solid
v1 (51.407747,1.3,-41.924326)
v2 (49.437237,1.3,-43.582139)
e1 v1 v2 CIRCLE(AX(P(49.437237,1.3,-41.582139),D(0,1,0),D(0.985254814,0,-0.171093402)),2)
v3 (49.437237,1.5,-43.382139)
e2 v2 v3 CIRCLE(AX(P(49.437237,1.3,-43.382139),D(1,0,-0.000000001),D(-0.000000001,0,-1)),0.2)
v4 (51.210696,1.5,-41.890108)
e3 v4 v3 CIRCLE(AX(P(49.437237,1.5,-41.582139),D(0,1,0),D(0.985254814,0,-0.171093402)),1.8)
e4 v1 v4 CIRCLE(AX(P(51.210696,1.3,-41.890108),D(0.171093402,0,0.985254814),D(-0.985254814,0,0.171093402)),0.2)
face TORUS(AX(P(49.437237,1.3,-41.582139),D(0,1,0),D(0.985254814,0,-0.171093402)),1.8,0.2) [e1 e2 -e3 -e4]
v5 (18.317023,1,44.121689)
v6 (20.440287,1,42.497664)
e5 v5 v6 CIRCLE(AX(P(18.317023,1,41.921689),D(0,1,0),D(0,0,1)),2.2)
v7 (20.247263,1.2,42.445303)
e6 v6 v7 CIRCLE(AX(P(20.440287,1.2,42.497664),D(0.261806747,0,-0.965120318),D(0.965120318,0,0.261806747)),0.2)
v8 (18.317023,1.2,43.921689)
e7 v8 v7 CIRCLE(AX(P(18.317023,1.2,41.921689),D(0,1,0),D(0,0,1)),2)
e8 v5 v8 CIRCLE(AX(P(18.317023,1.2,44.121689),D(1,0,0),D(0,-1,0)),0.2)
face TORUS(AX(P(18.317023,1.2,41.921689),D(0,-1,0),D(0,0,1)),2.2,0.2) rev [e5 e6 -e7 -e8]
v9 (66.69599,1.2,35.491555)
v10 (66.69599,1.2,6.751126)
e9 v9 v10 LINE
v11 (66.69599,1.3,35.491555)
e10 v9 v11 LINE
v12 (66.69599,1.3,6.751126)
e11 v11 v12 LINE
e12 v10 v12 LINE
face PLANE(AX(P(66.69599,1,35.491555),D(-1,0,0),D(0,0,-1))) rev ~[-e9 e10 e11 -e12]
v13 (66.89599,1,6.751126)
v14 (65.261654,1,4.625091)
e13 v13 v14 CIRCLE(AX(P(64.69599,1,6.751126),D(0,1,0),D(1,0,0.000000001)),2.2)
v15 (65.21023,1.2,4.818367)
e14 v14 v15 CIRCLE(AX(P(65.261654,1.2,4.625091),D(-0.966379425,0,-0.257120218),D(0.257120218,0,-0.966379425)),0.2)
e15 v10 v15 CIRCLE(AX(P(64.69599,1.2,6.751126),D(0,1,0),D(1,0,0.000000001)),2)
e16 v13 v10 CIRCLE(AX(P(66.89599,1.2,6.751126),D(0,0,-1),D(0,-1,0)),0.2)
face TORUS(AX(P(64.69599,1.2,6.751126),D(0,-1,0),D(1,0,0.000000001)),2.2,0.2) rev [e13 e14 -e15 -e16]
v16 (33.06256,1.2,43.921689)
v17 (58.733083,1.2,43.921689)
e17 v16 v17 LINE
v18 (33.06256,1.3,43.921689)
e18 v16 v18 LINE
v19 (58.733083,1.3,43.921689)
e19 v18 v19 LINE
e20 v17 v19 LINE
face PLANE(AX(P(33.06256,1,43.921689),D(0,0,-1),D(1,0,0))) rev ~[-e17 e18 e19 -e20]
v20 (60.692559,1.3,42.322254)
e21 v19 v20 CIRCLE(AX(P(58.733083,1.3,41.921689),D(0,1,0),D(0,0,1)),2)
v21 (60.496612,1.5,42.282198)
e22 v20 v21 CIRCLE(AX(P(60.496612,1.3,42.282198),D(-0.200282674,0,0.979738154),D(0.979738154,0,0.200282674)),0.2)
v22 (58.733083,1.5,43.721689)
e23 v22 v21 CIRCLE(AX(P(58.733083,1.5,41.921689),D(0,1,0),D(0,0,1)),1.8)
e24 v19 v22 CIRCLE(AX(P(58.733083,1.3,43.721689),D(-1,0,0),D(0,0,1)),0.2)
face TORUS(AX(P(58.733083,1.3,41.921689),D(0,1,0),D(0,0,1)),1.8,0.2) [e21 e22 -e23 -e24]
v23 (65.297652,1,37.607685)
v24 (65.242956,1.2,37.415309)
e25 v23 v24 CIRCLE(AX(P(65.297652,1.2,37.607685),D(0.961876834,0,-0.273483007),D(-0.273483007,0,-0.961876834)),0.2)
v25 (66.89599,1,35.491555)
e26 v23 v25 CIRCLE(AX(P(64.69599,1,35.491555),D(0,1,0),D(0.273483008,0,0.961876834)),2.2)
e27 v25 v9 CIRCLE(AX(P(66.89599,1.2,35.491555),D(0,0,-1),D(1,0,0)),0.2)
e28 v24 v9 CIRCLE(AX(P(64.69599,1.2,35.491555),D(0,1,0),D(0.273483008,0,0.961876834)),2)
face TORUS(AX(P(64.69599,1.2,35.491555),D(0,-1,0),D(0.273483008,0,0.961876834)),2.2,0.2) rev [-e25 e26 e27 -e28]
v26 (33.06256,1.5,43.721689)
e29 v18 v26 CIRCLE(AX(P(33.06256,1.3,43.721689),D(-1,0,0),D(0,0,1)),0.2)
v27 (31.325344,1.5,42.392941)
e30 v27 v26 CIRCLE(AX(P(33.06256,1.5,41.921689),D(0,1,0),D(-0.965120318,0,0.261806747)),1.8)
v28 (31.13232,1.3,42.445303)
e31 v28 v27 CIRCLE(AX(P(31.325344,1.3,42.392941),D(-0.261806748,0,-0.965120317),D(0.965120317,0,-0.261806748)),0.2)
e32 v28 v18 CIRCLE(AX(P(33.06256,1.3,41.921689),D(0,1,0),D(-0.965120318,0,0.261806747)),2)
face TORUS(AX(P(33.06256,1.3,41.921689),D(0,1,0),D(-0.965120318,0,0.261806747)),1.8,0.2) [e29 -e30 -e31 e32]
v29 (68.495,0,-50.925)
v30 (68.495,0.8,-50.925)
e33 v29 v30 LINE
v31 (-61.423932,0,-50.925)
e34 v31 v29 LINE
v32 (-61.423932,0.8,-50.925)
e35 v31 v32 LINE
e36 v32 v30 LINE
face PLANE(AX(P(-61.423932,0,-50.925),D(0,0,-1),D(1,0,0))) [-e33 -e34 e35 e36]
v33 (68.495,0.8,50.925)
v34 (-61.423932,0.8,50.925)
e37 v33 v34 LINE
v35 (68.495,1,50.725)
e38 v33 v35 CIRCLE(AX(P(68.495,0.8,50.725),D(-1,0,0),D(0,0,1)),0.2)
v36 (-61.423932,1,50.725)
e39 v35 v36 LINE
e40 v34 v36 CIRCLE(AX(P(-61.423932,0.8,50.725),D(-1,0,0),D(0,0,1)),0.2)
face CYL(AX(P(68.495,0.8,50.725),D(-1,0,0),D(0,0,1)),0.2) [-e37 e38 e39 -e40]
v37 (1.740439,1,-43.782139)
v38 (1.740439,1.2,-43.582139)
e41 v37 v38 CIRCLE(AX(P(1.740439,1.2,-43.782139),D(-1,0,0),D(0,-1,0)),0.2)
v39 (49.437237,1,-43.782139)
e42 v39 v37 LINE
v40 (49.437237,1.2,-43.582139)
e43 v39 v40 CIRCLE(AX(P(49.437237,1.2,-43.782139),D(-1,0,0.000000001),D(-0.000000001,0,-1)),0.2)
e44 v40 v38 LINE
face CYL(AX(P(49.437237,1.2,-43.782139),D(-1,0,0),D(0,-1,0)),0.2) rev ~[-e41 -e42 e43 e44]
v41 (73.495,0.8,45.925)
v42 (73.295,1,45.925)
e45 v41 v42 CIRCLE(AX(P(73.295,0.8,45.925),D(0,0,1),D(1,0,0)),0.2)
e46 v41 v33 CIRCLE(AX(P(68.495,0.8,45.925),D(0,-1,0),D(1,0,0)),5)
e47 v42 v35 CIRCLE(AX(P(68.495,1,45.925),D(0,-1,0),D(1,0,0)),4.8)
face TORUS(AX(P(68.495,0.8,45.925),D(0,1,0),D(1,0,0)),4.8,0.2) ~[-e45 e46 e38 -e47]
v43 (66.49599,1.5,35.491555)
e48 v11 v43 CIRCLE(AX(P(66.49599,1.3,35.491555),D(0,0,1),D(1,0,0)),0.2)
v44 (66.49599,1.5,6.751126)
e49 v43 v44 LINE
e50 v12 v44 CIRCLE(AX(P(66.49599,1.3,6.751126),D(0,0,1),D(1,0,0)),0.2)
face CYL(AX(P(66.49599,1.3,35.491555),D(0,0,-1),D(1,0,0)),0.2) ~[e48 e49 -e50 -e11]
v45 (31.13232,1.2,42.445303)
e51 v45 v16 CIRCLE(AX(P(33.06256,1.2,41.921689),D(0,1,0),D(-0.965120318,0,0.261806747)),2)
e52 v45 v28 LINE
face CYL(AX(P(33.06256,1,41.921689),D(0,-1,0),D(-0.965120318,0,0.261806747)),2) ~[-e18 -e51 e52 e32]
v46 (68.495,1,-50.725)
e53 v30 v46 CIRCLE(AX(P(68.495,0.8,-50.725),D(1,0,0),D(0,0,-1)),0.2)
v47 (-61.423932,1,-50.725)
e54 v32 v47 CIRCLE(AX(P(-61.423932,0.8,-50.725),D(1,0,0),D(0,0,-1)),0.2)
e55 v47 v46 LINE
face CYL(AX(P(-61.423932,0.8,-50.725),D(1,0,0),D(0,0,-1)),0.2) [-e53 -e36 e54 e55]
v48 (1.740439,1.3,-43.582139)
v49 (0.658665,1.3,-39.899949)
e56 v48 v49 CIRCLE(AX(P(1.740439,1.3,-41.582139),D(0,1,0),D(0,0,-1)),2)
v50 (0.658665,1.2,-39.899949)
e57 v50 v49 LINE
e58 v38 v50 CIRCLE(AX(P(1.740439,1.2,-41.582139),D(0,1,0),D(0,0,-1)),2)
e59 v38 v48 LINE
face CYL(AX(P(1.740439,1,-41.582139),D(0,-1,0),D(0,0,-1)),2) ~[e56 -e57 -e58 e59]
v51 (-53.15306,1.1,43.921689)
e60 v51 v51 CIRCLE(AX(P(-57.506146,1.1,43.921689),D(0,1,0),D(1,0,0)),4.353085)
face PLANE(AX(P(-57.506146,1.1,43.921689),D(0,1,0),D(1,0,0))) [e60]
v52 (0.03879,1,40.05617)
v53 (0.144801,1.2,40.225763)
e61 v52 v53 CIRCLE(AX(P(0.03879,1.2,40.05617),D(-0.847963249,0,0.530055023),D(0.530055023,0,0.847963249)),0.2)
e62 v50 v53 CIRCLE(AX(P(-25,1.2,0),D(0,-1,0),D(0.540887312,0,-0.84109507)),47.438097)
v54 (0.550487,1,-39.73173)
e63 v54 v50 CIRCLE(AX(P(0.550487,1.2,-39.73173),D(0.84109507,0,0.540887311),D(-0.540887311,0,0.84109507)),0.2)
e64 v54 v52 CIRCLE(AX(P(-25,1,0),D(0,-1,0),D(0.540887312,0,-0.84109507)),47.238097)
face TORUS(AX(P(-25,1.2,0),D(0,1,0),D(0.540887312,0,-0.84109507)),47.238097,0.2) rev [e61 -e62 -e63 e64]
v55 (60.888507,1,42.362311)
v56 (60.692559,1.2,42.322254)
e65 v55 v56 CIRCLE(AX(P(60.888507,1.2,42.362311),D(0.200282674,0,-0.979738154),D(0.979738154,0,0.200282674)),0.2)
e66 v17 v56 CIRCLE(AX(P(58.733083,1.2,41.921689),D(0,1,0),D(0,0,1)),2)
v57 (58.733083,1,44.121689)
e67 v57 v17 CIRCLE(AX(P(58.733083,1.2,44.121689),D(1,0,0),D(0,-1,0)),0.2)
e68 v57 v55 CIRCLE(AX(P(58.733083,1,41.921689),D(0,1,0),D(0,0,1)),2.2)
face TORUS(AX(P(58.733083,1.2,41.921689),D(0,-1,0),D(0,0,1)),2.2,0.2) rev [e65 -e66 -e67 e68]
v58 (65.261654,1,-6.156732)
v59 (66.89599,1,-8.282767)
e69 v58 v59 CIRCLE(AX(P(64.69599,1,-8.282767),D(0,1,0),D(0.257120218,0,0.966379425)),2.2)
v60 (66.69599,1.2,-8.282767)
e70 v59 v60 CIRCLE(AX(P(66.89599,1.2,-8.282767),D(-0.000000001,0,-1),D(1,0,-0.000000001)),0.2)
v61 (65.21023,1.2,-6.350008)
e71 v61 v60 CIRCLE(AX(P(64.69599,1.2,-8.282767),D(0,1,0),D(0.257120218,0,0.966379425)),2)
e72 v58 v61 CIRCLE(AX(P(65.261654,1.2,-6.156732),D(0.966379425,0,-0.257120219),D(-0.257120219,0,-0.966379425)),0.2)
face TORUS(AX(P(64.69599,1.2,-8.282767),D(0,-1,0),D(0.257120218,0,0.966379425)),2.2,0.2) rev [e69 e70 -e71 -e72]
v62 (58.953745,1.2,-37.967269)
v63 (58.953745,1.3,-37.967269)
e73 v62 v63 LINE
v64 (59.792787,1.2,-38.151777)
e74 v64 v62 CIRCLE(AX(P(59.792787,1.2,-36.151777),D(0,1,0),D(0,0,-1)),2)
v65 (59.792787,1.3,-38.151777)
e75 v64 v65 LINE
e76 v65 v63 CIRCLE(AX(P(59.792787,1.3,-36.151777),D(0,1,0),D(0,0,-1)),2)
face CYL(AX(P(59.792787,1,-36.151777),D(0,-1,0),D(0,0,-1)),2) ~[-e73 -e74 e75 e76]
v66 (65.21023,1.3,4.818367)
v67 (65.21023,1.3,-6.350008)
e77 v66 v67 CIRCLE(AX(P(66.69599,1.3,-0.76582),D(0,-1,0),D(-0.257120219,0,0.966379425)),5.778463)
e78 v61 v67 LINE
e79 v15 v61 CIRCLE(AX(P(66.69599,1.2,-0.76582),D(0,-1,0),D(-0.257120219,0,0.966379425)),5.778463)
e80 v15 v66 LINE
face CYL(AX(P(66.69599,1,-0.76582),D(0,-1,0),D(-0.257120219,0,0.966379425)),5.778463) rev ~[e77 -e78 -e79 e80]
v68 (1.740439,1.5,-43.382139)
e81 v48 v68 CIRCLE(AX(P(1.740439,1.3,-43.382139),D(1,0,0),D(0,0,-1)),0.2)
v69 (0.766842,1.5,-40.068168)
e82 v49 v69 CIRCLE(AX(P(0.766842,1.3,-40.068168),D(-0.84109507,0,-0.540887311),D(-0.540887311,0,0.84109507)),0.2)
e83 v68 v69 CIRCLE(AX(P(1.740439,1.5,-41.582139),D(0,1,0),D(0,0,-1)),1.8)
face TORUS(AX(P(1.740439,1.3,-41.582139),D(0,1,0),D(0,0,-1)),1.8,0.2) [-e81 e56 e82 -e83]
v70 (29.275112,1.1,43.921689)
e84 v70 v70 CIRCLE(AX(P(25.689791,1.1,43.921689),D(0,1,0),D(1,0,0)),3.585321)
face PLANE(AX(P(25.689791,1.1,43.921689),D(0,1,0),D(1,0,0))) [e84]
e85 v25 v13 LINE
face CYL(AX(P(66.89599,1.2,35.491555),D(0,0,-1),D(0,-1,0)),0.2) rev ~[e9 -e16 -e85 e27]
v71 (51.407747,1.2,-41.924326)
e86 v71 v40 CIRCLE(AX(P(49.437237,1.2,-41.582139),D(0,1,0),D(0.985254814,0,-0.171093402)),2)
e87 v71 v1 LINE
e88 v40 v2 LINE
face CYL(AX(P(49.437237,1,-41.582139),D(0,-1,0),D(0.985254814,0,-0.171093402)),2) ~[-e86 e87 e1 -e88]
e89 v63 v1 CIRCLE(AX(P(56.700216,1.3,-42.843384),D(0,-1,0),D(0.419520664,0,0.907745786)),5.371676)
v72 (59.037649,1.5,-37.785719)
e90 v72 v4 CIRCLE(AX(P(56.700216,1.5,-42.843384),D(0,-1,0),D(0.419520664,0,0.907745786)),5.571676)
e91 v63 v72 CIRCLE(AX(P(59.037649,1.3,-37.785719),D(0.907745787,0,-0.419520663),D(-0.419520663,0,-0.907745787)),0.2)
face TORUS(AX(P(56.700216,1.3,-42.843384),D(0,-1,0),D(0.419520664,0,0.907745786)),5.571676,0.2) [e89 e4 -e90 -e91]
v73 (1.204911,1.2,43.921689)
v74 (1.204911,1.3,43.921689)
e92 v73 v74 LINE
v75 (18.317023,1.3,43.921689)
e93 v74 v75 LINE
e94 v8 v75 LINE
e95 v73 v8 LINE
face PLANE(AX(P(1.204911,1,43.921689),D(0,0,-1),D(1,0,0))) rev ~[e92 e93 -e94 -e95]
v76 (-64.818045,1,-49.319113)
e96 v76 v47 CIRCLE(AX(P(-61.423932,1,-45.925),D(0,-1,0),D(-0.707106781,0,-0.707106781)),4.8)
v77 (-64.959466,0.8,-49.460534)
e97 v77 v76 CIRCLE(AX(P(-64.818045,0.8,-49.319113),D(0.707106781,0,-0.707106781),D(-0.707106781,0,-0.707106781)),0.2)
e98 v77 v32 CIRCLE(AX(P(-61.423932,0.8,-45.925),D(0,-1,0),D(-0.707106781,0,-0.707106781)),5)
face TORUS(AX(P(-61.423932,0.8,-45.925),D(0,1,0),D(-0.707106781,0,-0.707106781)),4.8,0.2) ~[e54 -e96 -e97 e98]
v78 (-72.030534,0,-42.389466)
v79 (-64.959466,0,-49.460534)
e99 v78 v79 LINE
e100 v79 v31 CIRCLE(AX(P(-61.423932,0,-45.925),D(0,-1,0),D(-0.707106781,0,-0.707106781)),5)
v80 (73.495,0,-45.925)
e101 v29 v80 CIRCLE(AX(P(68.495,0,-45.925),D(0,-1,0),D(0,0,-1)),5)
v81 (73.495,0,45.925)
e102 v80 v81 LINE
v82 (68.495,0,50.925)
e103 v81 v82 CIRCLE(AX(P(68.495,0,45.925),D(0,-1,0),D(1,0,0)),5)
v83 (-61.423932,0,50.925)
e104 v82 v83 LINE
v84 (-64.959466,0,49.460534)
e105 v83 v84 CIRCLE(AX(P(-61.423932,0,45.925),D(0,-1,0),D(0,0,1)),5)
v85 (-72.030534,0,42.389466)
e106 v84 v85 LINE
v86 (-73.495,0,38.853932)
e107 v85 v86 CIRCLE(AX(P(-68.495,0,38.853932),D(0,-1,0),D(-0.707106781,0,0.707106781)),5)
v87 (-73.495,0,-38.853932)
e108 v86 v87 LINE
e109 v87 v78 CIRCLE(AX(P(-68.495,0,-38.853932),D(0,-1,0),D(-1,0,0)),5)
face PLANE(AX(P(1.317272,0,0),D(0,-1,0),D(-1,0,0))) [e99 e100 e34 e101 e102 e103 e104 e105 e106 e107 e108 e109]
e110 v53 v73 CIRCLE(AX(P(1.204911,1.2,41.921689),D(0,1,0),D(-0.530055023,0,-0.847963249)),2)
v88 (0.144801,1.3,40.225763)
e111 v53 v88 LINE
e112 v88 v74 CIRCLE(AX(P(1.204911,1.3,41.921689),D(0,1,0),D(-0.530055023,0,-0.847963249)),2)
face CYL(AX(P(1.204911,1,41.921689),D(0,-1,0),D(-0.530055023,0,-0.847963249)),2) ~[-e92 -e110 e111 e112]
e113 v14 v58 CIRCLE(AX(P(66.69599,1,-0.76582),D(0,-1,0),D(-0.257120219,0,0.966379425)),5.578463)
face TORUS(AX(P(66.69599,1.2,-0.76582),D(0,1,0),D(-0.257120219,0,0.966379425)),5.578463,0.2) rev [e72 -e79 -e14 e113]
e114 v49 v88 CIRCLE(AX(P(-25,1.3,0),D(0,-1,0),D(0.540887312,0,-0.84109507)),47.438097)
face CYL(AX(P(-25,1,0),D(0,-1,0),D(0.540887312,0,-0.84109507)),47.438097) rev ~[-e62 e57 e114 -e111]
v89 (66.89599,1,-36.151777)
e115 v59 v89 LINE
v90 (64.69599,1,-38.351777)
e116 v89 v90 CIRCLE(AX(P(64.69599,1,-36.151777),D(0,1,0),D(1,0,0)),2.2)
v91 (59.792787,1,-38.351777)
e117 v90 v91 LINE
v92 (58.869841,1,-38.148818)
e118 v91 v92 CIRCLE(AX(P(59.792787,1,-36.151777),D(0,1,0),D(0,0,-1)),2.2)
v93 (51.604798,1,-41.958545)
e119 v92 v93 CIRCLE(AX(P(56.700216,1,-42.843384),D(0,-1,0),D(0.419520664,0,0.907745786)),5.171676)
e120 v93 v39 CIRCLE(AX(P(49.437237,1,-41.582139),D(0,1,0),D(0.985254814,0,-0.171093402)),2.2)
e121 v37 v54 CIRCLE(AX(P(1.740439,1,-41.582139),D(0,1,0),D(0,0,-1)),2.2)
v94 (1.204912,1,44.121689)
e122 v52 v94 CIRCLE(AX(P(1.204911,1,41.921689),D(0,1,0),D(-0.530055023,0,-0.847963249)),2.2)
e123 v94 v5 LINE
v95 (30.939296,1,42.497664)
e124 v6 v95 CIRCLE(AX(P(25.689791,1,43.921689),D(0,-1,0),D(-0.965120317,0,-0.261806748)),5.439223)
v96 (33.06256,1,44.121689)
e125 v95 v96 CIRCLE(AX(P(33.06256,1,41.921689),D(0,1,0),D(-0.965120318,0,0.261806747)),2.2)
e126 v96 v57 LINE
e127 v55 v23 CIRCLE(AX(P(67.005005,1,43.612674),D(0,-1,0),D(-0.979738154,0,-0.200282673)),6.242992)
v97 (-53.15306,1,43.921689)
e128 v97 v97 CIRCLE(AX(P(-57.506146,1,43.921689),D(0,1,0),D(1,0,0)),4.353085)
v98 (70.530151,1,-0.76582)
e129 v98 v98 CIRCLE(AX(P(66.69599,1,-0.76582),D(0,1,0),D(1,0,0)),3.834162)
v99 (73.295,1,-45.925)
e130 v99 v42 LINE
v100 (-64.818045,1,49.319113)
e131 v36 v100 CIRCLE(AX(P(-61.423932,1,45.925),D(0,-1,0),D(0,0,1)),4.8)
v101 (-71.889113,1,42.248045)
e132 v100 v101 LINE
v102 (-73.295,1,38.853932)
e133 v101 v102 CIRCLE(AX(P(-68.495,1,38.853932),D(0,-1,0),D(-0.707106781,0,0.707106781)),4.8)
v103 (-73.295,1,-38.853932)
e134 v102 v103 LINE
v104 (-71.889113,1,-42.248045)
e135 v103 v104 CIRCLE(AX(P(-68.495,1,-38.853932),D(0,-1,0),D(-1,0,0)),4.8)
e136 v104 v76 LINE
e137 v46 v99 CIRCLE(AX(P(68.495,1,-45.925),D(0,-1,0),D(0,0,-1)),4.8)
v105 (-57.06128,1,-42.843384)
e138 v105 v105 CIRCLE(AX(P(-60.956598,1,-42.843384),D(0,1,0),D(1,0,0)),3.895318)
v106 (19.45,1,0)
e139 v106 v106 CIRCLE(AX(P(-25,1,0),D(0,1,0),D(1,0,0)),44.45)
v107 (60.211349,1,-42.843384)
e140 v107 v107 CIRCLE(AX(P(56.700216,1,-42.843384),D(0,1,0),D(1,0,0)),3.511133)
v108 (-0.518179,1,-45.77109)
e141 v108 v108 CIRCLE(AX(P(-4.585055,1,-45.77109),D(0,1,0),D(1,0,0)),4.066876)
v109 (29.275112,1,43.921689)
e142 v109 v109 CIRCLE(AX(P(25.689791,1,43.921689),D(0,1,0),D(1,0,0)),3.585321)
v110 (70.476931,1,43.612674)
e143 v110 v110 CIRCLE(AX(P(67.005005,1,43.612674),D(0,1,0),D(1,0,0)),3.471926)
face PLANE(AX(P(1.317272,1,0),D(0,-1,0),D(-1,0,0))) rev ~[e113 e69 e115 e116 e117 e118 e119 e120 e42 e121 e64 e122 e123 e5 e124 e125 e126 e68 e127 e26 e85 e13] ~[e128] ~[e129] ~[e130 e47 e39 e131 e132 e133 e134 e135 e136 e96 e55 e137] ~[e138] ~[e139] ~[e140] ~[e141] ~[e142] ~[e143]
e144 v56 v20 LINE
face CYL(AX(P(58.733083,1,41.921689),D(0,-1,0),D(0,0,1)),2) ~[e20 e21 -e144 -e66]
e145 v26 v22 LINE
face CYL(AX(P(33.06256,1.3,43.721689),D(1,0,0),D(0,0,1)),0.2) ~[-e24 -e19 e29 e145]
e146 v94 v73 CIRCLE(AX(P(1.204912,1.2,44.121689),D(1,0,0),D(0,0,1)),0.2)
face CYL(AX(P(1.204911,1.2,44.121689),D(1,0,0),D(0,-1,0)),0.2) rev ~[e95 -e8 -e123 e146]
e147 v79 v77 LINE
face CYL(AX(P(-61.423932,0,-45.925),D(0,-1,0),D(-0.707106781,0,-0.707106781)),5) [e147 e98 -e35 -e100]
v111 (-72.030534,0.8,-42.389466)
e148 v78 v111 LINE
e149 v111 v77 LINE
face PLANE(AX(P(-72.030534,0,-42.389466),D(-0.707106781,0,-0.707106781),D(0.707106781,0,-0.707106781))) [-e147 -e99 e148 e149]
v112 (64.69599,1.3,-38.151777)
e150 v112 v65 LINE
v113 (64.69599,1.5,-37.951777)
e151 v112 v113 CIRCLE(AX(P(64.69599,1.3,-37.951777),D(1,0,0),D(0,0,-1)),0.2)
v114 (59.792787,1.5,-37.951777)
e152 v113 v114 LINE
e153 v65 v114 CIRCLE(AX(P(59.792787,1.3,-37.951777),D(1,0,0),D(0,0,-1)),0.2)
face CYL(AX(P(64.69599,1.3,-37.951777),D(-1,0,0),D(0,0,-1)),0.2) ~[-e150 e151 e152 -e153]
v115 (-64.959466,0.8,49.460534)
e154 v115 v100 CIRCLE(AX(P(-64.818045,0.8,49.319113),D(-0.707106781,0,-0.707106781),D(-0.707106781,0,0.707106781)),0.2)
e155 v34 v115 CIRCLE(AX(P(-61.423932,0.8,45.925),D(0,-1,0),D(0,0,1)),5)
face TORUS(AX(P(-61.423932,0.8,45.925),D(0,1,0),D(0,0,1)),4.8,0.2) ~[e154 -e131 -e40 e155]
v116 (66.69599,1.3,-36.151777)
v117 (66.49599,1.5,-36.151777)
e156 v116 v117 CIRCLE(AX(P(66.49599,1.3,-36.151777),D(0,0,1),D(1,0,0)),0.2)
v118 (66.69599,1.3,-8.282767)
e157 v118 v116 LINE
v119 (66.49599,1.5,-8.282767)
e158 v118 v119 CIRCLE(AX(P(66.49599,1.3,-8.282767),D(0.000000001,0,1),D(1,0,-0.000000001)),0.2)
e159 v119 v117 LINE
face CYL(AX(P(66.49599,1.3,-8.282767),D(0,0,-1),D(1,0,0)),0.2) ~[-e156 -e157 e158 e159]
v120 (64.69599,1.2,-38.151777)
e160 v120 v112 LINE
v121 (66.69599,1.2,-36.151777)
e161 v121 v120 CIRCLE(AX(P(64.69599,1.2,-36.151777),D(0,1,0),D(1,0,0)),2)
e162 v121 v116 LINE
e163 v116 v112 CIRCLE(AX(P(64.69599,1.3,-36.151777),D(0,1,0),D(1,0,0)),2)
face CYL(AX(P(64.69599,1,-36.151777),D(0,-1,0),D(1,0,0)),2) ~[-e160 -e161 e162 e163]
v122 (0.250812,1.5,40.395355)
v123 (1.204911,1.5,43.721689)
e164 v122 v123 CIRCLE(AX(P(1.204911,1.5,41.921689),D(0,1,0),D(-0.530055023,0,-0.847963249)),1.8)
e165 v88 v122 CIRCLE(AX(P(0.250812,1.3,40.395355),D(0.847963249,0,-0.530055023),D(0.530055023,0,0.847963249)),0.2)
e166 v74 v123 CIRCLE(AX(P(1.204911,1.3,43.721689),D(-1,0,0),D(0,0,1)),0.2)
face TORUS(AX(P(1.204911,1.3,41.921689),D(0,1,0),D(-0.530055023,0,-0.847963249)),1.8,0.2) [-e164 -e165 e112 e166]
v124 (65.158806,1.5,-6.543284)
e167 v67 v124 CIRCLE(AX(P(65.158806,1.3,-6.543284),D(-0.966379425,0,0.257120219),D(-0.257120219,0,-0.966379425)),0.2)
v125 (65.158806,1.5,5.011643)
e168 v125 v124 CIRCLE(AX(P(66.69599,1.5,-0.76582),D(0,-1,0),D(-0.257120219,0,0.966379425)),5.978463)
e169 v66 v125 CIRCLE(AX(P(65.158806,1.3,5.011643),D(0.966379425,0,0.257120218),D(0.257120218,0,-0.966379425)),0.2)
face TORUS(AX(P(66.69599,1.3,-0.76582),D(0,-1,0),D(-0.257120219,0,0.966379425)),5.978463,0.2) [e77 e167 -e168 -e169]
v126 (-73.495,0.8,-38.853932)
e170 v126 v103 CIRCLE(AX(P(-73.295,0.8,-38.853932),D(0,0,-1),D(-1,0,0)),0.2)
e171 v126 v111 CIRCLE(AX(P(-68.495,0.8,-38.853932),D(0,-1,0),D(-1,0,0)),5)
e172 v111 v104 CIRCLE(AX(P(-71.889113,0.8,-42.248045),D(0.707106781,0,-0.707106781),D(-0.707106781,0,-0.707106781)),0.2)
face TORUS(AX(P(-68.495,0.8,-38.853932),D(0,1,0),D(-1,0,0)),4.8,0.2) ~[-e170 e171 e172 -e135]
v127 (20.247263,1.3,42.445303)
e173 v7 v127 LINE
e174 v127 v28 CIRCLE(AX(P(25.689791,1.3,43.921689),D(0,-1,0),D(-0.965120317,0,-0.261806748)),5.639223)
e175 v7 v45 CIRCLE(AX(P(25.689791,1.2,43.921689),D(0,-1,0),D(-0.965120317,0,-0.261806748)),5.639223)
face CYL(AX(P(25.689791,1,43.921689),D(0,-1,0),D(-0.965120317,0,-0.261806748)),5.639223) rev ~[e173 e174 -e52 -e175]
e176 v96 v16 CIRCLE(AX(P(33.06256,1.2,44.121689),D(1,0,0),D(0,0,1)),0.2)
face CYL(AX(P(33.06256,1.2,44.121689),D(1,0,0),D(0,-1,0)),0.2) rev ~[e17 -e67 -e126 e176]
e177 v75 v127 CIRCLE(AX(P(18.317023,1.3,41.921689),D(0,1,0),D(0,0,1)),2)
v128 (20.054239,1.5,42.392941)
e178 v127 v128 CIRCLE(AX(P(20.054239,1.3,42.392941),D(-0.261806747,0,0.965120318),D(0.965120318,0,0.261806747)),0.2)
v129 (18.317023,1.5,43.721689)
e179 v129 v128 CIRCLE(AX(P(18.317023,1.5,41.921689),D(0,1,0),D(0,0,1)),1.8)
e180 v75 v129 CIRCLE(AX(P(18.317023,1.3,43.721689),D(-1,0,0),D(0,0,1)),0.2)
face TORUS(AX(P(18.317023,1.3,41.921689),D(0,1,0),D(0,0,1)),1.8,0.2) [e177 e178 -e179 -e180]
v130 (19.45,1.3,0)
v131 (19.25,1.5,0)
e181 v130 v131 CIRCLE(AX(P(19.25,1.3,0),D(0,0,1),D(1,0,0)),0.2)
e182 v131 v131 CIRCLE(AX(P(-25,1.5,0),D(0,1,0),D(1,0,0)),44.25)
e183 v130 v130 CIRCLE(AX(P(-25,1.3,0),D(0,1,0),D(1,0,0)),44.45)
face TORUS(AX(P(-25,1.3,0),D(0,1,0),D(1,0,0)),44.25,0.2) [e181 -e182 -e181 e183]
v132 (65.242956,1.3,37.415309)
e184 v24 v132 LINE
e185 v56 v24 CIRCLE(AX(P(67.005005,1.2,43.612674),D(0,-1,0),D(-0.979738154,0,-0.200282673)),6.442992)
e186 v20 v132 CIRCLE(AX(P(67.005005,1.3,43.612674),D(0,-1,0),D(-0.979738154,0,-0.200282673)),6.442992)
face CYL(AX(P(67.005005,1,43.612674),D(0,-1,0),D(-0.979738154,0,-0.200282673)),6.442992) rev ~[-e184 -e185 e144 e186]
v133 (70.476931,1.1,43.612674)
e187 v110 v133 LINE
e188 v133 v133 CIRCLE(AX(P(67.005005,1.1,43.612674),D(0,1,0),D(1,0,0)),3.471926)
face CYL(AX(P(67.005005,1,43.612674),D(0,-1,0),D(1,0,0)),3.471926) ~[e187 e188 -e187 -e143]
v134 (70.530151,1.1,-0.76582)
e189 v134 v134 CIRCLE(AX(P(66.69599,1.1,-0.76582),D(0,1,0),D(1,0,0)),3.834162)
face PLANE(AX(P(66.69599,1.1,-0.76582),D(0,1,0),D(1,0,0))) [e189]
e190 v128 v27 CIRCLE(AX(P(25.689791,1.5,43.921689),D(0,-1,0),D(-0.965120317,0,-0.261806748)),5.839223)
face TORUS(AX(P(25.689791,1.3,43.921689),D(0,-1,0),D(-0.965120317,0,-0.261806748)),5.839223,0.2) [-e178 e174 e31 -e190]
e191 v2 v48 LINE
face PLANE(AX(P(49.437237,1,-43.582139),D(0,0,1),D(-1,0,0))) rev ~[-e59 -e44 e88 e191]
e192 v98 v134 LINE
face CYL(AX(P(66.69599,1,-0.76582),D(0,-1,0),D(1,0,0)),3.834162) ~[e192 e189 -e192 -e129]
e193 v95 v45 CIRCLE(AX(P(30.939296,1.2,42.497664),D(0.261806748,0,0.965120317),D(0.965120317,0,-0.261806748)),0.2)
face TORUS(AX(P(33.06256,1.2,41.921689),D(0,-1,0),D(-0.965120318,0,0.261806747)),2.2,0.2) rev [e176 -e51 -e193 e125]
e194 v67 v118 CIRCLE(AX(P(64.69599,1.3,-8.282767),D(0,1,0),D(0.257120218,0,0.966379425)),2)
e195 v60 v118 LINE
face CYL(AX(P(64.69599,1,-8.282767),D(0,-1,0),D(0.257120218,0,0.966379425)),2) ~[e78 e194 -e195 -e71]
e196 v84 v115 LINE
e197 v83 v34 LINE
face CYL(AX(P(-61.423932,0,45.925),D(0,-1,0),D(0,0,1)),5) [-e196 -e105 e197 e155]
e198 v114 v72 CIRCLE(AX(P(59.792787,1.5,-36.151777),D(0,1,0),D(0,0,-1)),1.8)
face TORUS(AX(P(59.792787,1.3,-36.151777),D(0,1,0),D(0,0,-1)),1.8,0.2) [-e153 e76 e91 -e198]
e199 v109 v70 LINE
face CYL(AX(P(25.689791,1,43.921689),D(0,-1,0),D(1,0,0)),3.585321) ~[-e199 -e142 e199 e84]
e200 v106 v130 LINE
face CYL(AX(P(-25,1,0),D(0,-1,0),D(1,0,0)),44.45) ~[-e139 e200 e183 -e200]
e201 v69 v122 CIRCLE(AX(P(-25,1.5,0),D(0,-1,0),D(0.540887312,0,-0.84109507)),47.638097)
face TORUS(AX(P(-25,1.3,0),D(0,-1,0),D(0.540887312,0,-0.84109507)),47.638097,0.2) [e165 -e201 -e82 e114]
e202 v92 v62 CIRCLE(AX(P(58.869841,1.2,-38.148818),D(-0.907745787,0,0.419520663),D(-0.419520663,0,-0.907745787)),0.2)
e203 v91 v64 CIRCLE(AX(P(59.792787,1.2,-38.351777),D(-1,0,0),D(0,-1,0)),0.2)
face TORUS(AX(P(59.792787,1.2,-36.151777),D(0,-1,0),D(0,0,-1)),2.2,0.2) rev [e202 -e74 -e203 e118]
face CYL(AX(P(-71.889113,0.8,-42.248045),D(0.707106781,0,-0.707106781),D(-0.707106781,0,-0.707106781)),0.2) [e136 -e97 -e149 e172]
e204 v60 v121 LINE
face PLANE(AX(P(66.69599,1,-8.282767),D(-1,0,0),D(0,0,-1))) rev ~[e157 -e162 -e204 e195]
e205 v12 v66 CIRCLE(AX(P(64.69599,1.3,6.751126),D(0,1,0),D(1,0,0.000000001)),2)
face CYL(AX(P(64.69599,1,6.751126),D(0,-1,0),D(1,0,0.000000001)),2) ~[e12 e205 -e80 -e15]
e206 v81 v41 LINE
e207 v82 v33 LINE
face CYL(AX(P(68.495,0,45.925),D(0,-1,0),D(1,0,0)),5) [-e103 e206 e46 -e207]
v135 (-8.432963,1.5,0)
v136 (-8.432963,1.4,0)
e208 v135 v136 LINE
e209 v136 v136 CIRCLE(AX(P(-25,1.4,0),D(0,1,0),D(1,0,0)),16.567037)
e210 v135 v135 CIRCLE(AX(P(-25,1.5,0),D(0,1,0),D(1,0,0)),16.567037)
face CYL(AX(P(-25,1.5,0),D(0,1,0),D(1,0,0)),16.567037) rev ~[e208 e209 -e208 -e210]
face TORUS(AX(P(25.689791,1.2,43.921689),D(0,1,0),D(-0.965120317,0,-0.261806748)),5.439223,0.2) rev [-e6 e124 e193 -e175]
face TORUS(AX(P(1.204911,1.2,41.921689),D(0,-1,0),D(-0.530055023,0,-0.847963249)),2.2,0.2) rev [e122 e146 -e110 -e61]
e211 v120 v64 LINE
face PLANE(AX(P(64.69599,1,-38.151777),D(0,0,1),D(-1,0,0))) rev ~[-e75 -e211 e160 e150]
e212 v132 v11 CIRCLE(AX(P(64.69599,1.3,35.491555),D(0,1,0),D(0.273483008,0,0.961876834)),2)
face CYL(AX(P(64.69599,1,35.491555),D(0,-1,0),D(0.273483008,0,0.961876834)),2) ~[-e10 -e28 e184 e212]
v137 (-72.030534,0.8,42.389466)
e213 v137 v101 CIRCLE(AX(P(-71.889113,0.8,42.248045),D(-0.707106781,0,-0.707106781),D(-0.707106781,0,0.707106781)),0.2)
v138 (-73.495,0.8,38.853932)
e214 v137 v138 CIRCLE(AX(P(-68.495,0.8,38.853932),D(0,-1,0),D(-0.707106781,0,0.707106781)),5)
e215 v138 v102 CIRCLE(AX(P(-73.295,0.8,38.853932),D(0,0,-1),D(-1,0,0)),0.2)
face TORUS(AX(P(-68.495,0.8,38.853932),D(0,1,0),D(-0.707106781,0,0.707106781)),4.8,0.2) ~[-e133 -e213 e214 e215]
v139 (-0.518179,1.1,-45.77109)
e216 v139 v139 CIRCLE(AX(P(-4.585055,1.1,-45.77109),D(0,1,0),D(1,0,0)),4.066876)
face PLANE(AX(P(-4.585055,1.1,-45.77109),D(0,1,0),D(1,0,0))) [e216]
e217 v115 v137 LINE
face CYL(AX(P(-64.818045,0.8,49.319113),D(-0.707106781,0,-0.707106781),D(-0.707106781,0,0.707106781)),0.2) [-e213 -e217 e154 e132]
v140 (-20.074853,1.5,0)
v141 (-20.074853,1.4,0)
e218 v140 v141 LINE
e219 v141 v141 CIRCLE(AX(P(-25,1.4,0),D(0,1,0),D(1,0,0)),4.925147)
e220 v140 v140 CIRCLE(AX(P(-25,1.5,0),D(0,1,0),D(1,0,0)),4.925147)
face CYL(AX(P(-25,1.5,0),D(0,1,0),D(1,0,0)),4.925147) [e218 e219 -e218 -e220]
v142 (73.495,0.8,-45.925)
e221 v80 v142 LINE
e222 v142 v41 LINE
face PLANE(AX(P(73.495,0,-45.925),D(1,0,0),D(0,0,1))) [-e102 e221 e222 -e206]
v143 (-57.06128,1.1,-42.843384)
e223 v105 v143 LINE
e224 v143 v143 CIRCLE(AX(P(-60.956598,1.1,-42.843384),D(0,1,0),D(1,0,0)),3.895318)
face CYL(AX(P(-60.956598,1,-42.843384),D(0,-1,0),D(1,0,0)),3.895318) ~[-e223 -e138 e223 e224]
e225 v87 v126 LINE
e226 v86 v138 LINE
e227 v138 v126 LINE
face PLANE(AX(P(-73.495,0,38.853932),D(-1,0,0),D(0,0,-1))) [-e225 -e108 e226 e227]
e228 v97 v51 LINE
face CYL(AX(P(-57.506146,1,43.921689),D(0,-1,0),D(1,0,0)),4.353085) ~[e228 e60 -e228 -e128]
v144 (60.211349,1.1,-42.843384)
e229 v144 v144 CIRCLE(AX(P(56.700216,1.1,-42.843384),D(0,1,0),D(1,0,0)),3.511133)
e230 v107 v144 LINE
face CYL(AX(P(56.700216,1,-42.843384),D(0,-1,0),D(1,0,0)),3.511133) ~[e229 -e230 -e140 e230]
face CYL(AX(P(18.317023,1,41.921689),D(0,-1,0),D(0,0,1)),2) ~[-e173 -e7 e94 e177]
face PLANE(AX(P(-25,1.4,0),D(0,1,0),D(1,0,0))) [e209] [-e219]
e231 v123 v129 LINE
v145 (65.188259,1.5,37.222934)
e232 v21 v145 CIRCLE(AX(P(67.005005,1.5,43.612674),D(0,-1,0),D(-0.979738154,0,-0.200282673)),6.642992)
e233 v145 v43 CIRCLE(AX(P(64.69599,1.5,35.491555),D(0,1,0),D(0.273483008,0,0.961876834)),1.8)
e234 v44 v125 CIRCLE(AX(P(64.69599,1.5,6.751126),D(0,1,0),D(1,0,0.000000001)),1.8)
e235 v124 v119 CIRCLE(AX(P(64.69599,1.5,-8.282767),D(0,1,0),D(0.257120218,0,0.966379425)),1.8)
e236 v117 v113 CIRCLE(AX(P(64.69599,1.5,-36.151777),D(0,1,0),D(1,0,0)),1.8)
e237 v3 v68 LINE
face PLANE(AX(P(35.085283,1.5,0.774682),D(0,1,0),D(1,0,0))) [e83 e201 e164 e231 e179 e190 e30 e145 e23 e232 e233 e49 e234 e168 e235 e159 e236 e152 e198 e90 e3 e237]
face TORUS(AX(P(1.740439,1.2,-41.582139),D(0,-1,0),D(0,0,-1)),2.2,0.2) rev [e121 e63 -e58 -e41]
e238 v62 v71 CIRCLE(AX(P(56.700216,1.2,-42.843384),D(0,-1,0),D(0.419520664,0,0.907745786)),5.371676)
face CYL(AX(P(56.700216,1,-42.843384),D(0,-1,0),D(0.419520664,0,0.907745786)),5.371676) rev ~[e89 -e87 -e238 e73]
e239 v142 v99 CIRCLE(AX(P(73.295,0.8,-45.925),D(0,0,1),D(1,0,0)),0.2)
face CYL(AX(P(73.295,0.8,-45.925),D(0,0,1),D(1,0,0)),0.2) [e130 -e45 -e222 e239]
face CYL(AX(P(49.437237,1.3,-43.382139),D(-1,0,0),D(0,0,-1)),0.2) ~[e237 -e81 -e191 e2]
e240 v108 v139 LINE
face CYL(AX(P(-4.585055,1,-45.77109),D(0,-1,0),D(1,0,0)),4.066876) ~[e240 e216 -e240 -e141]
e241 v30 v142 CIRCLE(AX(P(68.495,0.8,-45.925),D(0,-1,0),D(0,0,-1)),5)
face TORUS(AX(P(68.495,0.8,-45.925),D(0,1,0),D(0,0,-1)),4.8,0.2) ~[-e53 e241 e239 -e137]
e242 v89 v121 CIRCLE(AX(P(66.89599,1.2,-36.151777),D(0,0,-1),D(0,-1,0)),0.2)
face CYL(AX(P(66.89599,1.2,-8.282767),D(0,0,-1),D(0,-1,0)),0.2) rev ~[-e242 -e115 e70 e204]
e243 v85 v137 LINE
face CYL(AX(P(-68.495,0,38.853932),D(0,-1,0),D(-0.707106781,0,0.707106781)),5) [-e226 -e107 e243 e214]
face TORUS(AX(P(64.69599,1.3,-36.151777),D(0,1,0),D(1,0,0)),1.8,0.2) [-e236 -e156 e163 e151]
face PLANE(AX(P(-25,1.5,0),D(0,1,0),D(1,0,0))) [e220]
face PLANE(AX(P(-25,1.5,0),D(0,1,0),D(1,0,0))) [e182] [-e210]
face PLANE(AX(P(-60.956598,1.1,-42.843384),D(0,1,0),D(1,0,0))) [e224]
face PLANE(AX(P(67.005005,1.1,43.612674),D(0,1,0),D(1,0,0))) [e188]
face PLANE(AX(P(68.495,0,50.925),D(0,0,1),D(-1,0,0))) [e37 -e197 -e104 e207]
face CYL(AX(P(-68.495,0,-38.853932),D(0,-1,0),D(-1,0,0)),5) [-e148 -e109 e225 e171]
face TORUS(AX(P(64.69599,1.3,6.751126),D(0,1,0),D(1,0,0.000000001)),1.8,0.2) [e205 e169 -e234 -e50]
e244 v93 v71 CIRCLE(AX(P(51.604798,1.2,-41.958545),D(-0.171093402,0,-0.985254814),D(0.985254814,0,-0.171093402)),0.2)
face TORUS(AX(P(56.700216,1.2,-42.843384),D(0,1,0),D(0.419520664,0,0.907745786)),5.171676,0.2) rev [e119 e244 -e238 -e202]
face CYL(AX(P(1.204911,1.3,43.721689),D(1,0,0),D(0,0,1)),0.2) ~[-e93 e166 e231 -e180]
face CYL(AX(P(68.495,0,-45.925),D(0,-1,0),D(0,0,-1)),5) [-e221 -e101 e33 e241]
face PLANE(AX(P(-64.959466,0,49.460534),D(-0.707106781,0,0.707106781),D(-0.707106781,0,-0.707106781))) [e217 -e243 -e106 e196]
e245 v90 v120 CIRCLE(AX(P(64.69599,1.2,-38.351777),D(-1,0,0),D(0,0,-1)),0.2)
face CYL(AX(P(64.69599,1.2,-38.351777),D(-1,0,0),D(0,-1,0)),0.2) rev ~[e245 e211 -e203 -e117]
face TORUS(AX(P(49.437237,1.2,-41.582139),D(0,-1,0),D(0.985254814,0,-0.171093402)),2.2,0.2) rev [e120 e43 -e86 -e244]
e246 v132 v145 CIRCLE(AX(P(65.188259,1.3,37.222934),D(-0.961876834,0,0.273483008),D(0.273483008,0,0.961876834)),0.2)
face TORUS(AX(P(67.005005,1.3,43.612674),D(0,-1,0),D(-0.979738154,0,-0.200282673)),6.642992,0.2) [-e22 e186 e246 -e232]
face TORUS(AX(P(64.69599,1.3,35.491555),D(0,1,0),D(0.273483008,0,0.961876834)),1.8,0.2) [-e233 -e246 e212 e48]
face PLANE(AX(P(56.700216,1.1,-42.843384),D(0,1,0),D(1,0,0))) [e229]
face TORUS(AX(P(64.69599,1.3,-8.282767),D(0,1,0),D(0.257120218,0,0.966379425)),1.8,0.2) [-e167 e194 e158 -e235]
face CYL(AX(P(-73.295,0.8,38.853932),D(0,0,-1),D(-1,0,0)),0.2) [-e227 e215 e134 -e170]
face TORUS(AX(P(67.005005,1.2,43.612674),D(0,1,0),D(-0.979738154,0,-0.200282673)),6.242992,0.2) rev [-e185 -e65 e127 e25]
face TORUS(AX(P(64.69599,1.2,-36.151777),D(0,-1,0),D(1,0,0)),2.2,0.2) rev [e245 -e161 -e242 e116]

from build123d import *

# Parameters (mm, degrees)
COVER_BASE_DEPTH       = 1
FILLET1_R              = 0.2
SKETCH2_R              = 44.45
DISK_BULB_DEPTH        = 0.5
FILLET2_R              = 0.2
HARDWARE_BULGING_DEPTH = 0.5
FILLET3_R              = 0.2
FILLET4_R              = 0.2
SKETCH4_R              = 3.511132636
SKETCH4_R_2            = 3.834161636
SKETCH4_R_3            = 3.471926453
SKETCH4_R_4            = 3.585320712
SKETCH4_R_5            = 4.353085211
SKETCH4_R_6            = 3.89531807
SKETCH4_R_7            = 4.066876422
SCREW_CAPS_DEPTH       = 0.1
SKETCH5_R              = 16.567036965
SKETCH5_R_2            = 4.925147254
CUT_EXTRUDE1_DEPTH     = 0.1


with BuildPart() as part:
    # Sketch1 → cover base (new body)
    with BuildSketch(Plane(origin=(0, 0, 0), x_dir=(1, 0, 0), z_dir=(0, 1, 0))):
        with BuildLine():
            Line((-72.030533906, 42.389466094), (-64.959466094, 49.460533906))
            ThreePointArc((-64.959466094, 49.460533906), (-63.33734935, 50.544397663), (-61.423932188, 50.925))
            Line((-61.423932188, 50.925), (68.495, 50.925))
            ThreePointArc((68.495, 50.925), (72.030533906, 49.460533906), (73.495, 45.925))
            Line((73.495, 45.925), (73.495, -45.925))
            ThreePointArc((73.495, -45.925), (72.030533906, -49.460533906), (68.495, -50.925))
            Line((68.495, -50.925), (-61.423932188, -50.925))
            ThreePointArc((-61.423932188, -50.925), (-63.33734935, -50.544397663), (-64.959466094, -49.460533906))
            Line((-64.959466094, -49.460533906), (-72.030533906, -42.389466094))
            ThreePointArc((-72.030533906, -42.389466094), (-73.114397663, -40.76734935), (-73.495, -38.853932188))
            Line((-73.495, -38.853932188), (-73.495, 38.853932188))
            ThreePointArc((-73.495, 38.853932188), (-73.114397663, 40.76734935), (-72.030533906, 42.389466094))
        make_face()
    extrude(amount=COVER_BASE_DEPTH)

    # Fillet1
    fillet1_edges = [part.edges().sort_by_distance(p)[0] for p in [
        (72.030533906, 1, 49.460533906),
        (73.495, 1, 0),
        (72.030533906, 1, -49.460533906),
        (3.535533906, 1, -50.925),
        (-63.33734935, 1, -50.544397663),
        (-68.495, 1, -45.925),
        (-73.114397663, 1, -40.76734935),
        (-73.495, 1, 0),
        (-73.114397663, 1, 40.76734935),
        (-68.495, 1, 45.925),
        (-63.33734935, 1, 50.544397663),
        (3.535533906, 1, 50.925),
    ]]
    fillet(fillet1_edges, radius=FILLET1_R)

    # Sketch2 → disk bulb (add)
    with BuildSketch(Plane(origin=(0, 1, 0), x_dir=(1, 0, 0), z_dir=(0, 1, 0))):
        with Locations((-25, 0)):
            Circle(SKETCH2_R)
    extrude(amount=DISK_BULB_DEPTH)

    # Fillet2
    fillet2_edges = [part.edges().sort_by_distance(p)[0] for p in [
        (-69.45, 1.5, 0),
    ]]
    fillet(fillet2_edges, radius=FILLET2_R)

    # Sketch3 → hardware bulging (add)
    with BuildSketch(Plane(origin=(0, 1, 0), x_dir=(1, 0, 0), z_dir=(0, 1, 0))):
        with BuildLine():
            Line((1.2049115, -43.92168913), (18.31702258, -43.92168913))
            ThreePointArc((18.31702258, -43.92168913), (19.532089041, -43.510277653), (20.247263214, -42.445302625))
            ThreePointArc((20.247263214, -42.445302625), (25.689791432, -38.28246662), (31.13231965, -42.445302625))
            ThreePointArc((31.13231965, -42.445302625), (31.847493823, -43.510277653), (33.062560284, -43.92168913))
            Line((33.062560284, -43.92168913), (58.733082901, -43.92168913))
            ThreePointArc((58.733082901, -43.92168913), (59.997770473, -43.471064922), (60.69255921, -42.322254476))
            ThreePointArc((60.69255921, -42.322254476), (62.280717073, -39.231663214), (65.242955695, -37.415309146))
            ThreePointArc((65.242955695, -37.415309146), (66.291911362, -36.69697407), (66.69598968, -35.491555477))
            Line((66.69598968, -35.491555477), (66.69598968, -6.751125846))
            ThreePointArc((66.69598968, -6.751125846), (66.281625338, -5.532208473), (65.210230118, -4.818366996))
            ThreePointArc((65.210230118, -4.818366996), (60.917527109, 0.765820341), (65.210230118, 6.350007678))
            ThreePointArc((65.210230118, 6.350007678), (66.281625338, 7.063849155), (66.69598968, 8.282766528))
            Line((66.69598968, 8.282766528), (66.69598968, 36.151776978))
            ThreePointArc((66.69598968, 36.151776978), (66.110203243, 37.56599054), (64.69598968, 38.151776978))
            Line((64.69598968, 38.151776978), (59.792786532, 38.151776978))
            ThreePointArc((59.792786532, 38.151776978), (59.36324209, 38.10510531), (58.953745204, 37.967268551))
            ThreePointArc((58.953745204, 37.967268551), (54.205548794, 38.086123373), (51.407747033, 41.924326198))
            ThreePointArc((51.407747033, 41.924326198), (50.724798354, 43.112559861), (49.437237405, 43.582139394))
            Line((49.437237405, 43.582139394), (1.740439218, 43.582139394))
            ThreePointArc((1.740439218, 43.582139394), (-0.178464151, 42.145885668), (0.658664595, 39.899949255))
            ThreePointArc((0.658664595, 39.899949255), (22.437121192, -0.304224294), (0.144801453, -40.225762631))
            ThreePointArc((0.144801453, -40.225762631), (-0.717567759, -42.47311773), (1.2049115, -43.92168913))
        make_face()
    extrude(amount=HARDWARE_BULGING_DEPTH)

    # Fillet3
    fillet3_edges = [part.edges().sort_by_distance(p)[0] for p in [
        (66.291911362, 1.5, 36.69697407),
        (66.69598968, 1.5, 21.121340662),
        (66.281625338, 1.5, 5.532208473),
        (60.917527109, 1.5, -0.765820341),
        (66.281625338, 1.5, -7.063849155),
        (66.69598968, 1.5, -22.217271753),
        (66.110203243, 1.5, -37.56599054),
        (62.244388106, 1.5, -38.151776978),
        (59.36324209, 1.5, -38.10510531),
        (54.205548794, 1.5, -38.086123373),
        (50.724798354, 1.5, -43.112559861),
        (25.588838312, 1.5, -43.582139394),
        (-0.178464151, 1.5, -42.145885668),
        (22.437121192, 1.5, 0.304224294),
        (-0.717567759, 1.5, 42.47311773),
        (9.76096704, 1.5, 43.92168913),
        (19.532089041, 1.5, 43.510277653),
        (25.689791432, 1.5, 38.28246662),
        (31.847493823, 1.5, 43.510277653),
        (45.897821593, 1.5, 43.92168913),
        (59.997770473, 1.5, 43.471064922),
        (62.280717073, 1.5, 39.231663214),
    ]]
    fillet(fillet3_edges, radius=FILLET3_R)

    # Fillet4
    fillet4_edges = [part.edges().sort_by_distance(p)[0] for p in [
        (50.724798354, 1, -43.112559861),
        (25.588838312, 1, -43.582139394),
        (-0.178464151, 1, -42.145885668),
        (22.437121192, 1, 0.304224294),
        (-0.717567759, 1, 42.47311773),
        (9.76096704, 1, 43.92168913),
        (19.532089041, 1, 43.510277653),
        (25.689791432, 1, 38.28246662),
        (31.847493823, 1, 43.510277653),
        (45.897821593, 1, 43.92168913),
        (59.997770473, 1, 43.471064922),
        (62.280717073, 1, 39.231663214),
        (66.291911362, 1, 36.69697407),
        (66.69598968, 1, 21.121340662),
        (66.281625338, 1, 5.532208473),
        (60.917527109, 1, -0.765820341),
        (66.281625338, 1, -7.063849155),
        (66.69598968, 1, -22.217271753),
        (66.110203243, 1, -37.56599054),
        (62.244388106, 1, -38.151776978),
        (59.36324209, 1, -38.10510531),
        (54.205548794, 1, -38.086123373),
    ]]
    fillet(fillet4_edges, radius=FILLET4_R)

    # Sketch4 → screw caps (add)
    with BuildSketch(Plane(origin=(0, 1, 0), x_dir=(1, 0, 0), z_dir=(0, 1, 0))):
        with Locations((56.700216286, 42.843384452)):
            Circle(SKETCH4_R)
        with Locations((66.69598968, 0.765820341)):
            Circle(SKETCH4_R_2)
        with Locations((67.00500461, -43.6126742)):
            Circle(SKETCH4_R_3)
        with Locations((25.689791432, -43.92168913)):
            Circle(SKETCH4_R_4)
        with Locations((-57.506145591, -43.92168913)):
            Circle(SKETCH4_R_5)
        with Locations((-60.95659819, 42.843384452)):
            Circle(SKETCH4_R_6)
        with Locations((-4.585055317, 45.771090055)):
            Circle(SKETCH4_R_7)
    extrude(amount=SCREW_CAPS_DEPTH)

    # Sketch5 → Cut-Extrude1 (cut)
    with BuildSketch(Plane(origin=(0, 1.5, 0), x_dir=(1, 0, 0), z_dir=(0, 1, 0))):
        with Locations((-25, 0)):
            Circle(SKETCH5_R)
        with Locations((-25, 0)):
            Circle(SKETCH5_R_2, mode=Mode.SUBTRACT)
    extrude(amount=-CUT_EXTRUDE1_DEPTH, mode=Mode.SUBTRACT)


solid = part.part
